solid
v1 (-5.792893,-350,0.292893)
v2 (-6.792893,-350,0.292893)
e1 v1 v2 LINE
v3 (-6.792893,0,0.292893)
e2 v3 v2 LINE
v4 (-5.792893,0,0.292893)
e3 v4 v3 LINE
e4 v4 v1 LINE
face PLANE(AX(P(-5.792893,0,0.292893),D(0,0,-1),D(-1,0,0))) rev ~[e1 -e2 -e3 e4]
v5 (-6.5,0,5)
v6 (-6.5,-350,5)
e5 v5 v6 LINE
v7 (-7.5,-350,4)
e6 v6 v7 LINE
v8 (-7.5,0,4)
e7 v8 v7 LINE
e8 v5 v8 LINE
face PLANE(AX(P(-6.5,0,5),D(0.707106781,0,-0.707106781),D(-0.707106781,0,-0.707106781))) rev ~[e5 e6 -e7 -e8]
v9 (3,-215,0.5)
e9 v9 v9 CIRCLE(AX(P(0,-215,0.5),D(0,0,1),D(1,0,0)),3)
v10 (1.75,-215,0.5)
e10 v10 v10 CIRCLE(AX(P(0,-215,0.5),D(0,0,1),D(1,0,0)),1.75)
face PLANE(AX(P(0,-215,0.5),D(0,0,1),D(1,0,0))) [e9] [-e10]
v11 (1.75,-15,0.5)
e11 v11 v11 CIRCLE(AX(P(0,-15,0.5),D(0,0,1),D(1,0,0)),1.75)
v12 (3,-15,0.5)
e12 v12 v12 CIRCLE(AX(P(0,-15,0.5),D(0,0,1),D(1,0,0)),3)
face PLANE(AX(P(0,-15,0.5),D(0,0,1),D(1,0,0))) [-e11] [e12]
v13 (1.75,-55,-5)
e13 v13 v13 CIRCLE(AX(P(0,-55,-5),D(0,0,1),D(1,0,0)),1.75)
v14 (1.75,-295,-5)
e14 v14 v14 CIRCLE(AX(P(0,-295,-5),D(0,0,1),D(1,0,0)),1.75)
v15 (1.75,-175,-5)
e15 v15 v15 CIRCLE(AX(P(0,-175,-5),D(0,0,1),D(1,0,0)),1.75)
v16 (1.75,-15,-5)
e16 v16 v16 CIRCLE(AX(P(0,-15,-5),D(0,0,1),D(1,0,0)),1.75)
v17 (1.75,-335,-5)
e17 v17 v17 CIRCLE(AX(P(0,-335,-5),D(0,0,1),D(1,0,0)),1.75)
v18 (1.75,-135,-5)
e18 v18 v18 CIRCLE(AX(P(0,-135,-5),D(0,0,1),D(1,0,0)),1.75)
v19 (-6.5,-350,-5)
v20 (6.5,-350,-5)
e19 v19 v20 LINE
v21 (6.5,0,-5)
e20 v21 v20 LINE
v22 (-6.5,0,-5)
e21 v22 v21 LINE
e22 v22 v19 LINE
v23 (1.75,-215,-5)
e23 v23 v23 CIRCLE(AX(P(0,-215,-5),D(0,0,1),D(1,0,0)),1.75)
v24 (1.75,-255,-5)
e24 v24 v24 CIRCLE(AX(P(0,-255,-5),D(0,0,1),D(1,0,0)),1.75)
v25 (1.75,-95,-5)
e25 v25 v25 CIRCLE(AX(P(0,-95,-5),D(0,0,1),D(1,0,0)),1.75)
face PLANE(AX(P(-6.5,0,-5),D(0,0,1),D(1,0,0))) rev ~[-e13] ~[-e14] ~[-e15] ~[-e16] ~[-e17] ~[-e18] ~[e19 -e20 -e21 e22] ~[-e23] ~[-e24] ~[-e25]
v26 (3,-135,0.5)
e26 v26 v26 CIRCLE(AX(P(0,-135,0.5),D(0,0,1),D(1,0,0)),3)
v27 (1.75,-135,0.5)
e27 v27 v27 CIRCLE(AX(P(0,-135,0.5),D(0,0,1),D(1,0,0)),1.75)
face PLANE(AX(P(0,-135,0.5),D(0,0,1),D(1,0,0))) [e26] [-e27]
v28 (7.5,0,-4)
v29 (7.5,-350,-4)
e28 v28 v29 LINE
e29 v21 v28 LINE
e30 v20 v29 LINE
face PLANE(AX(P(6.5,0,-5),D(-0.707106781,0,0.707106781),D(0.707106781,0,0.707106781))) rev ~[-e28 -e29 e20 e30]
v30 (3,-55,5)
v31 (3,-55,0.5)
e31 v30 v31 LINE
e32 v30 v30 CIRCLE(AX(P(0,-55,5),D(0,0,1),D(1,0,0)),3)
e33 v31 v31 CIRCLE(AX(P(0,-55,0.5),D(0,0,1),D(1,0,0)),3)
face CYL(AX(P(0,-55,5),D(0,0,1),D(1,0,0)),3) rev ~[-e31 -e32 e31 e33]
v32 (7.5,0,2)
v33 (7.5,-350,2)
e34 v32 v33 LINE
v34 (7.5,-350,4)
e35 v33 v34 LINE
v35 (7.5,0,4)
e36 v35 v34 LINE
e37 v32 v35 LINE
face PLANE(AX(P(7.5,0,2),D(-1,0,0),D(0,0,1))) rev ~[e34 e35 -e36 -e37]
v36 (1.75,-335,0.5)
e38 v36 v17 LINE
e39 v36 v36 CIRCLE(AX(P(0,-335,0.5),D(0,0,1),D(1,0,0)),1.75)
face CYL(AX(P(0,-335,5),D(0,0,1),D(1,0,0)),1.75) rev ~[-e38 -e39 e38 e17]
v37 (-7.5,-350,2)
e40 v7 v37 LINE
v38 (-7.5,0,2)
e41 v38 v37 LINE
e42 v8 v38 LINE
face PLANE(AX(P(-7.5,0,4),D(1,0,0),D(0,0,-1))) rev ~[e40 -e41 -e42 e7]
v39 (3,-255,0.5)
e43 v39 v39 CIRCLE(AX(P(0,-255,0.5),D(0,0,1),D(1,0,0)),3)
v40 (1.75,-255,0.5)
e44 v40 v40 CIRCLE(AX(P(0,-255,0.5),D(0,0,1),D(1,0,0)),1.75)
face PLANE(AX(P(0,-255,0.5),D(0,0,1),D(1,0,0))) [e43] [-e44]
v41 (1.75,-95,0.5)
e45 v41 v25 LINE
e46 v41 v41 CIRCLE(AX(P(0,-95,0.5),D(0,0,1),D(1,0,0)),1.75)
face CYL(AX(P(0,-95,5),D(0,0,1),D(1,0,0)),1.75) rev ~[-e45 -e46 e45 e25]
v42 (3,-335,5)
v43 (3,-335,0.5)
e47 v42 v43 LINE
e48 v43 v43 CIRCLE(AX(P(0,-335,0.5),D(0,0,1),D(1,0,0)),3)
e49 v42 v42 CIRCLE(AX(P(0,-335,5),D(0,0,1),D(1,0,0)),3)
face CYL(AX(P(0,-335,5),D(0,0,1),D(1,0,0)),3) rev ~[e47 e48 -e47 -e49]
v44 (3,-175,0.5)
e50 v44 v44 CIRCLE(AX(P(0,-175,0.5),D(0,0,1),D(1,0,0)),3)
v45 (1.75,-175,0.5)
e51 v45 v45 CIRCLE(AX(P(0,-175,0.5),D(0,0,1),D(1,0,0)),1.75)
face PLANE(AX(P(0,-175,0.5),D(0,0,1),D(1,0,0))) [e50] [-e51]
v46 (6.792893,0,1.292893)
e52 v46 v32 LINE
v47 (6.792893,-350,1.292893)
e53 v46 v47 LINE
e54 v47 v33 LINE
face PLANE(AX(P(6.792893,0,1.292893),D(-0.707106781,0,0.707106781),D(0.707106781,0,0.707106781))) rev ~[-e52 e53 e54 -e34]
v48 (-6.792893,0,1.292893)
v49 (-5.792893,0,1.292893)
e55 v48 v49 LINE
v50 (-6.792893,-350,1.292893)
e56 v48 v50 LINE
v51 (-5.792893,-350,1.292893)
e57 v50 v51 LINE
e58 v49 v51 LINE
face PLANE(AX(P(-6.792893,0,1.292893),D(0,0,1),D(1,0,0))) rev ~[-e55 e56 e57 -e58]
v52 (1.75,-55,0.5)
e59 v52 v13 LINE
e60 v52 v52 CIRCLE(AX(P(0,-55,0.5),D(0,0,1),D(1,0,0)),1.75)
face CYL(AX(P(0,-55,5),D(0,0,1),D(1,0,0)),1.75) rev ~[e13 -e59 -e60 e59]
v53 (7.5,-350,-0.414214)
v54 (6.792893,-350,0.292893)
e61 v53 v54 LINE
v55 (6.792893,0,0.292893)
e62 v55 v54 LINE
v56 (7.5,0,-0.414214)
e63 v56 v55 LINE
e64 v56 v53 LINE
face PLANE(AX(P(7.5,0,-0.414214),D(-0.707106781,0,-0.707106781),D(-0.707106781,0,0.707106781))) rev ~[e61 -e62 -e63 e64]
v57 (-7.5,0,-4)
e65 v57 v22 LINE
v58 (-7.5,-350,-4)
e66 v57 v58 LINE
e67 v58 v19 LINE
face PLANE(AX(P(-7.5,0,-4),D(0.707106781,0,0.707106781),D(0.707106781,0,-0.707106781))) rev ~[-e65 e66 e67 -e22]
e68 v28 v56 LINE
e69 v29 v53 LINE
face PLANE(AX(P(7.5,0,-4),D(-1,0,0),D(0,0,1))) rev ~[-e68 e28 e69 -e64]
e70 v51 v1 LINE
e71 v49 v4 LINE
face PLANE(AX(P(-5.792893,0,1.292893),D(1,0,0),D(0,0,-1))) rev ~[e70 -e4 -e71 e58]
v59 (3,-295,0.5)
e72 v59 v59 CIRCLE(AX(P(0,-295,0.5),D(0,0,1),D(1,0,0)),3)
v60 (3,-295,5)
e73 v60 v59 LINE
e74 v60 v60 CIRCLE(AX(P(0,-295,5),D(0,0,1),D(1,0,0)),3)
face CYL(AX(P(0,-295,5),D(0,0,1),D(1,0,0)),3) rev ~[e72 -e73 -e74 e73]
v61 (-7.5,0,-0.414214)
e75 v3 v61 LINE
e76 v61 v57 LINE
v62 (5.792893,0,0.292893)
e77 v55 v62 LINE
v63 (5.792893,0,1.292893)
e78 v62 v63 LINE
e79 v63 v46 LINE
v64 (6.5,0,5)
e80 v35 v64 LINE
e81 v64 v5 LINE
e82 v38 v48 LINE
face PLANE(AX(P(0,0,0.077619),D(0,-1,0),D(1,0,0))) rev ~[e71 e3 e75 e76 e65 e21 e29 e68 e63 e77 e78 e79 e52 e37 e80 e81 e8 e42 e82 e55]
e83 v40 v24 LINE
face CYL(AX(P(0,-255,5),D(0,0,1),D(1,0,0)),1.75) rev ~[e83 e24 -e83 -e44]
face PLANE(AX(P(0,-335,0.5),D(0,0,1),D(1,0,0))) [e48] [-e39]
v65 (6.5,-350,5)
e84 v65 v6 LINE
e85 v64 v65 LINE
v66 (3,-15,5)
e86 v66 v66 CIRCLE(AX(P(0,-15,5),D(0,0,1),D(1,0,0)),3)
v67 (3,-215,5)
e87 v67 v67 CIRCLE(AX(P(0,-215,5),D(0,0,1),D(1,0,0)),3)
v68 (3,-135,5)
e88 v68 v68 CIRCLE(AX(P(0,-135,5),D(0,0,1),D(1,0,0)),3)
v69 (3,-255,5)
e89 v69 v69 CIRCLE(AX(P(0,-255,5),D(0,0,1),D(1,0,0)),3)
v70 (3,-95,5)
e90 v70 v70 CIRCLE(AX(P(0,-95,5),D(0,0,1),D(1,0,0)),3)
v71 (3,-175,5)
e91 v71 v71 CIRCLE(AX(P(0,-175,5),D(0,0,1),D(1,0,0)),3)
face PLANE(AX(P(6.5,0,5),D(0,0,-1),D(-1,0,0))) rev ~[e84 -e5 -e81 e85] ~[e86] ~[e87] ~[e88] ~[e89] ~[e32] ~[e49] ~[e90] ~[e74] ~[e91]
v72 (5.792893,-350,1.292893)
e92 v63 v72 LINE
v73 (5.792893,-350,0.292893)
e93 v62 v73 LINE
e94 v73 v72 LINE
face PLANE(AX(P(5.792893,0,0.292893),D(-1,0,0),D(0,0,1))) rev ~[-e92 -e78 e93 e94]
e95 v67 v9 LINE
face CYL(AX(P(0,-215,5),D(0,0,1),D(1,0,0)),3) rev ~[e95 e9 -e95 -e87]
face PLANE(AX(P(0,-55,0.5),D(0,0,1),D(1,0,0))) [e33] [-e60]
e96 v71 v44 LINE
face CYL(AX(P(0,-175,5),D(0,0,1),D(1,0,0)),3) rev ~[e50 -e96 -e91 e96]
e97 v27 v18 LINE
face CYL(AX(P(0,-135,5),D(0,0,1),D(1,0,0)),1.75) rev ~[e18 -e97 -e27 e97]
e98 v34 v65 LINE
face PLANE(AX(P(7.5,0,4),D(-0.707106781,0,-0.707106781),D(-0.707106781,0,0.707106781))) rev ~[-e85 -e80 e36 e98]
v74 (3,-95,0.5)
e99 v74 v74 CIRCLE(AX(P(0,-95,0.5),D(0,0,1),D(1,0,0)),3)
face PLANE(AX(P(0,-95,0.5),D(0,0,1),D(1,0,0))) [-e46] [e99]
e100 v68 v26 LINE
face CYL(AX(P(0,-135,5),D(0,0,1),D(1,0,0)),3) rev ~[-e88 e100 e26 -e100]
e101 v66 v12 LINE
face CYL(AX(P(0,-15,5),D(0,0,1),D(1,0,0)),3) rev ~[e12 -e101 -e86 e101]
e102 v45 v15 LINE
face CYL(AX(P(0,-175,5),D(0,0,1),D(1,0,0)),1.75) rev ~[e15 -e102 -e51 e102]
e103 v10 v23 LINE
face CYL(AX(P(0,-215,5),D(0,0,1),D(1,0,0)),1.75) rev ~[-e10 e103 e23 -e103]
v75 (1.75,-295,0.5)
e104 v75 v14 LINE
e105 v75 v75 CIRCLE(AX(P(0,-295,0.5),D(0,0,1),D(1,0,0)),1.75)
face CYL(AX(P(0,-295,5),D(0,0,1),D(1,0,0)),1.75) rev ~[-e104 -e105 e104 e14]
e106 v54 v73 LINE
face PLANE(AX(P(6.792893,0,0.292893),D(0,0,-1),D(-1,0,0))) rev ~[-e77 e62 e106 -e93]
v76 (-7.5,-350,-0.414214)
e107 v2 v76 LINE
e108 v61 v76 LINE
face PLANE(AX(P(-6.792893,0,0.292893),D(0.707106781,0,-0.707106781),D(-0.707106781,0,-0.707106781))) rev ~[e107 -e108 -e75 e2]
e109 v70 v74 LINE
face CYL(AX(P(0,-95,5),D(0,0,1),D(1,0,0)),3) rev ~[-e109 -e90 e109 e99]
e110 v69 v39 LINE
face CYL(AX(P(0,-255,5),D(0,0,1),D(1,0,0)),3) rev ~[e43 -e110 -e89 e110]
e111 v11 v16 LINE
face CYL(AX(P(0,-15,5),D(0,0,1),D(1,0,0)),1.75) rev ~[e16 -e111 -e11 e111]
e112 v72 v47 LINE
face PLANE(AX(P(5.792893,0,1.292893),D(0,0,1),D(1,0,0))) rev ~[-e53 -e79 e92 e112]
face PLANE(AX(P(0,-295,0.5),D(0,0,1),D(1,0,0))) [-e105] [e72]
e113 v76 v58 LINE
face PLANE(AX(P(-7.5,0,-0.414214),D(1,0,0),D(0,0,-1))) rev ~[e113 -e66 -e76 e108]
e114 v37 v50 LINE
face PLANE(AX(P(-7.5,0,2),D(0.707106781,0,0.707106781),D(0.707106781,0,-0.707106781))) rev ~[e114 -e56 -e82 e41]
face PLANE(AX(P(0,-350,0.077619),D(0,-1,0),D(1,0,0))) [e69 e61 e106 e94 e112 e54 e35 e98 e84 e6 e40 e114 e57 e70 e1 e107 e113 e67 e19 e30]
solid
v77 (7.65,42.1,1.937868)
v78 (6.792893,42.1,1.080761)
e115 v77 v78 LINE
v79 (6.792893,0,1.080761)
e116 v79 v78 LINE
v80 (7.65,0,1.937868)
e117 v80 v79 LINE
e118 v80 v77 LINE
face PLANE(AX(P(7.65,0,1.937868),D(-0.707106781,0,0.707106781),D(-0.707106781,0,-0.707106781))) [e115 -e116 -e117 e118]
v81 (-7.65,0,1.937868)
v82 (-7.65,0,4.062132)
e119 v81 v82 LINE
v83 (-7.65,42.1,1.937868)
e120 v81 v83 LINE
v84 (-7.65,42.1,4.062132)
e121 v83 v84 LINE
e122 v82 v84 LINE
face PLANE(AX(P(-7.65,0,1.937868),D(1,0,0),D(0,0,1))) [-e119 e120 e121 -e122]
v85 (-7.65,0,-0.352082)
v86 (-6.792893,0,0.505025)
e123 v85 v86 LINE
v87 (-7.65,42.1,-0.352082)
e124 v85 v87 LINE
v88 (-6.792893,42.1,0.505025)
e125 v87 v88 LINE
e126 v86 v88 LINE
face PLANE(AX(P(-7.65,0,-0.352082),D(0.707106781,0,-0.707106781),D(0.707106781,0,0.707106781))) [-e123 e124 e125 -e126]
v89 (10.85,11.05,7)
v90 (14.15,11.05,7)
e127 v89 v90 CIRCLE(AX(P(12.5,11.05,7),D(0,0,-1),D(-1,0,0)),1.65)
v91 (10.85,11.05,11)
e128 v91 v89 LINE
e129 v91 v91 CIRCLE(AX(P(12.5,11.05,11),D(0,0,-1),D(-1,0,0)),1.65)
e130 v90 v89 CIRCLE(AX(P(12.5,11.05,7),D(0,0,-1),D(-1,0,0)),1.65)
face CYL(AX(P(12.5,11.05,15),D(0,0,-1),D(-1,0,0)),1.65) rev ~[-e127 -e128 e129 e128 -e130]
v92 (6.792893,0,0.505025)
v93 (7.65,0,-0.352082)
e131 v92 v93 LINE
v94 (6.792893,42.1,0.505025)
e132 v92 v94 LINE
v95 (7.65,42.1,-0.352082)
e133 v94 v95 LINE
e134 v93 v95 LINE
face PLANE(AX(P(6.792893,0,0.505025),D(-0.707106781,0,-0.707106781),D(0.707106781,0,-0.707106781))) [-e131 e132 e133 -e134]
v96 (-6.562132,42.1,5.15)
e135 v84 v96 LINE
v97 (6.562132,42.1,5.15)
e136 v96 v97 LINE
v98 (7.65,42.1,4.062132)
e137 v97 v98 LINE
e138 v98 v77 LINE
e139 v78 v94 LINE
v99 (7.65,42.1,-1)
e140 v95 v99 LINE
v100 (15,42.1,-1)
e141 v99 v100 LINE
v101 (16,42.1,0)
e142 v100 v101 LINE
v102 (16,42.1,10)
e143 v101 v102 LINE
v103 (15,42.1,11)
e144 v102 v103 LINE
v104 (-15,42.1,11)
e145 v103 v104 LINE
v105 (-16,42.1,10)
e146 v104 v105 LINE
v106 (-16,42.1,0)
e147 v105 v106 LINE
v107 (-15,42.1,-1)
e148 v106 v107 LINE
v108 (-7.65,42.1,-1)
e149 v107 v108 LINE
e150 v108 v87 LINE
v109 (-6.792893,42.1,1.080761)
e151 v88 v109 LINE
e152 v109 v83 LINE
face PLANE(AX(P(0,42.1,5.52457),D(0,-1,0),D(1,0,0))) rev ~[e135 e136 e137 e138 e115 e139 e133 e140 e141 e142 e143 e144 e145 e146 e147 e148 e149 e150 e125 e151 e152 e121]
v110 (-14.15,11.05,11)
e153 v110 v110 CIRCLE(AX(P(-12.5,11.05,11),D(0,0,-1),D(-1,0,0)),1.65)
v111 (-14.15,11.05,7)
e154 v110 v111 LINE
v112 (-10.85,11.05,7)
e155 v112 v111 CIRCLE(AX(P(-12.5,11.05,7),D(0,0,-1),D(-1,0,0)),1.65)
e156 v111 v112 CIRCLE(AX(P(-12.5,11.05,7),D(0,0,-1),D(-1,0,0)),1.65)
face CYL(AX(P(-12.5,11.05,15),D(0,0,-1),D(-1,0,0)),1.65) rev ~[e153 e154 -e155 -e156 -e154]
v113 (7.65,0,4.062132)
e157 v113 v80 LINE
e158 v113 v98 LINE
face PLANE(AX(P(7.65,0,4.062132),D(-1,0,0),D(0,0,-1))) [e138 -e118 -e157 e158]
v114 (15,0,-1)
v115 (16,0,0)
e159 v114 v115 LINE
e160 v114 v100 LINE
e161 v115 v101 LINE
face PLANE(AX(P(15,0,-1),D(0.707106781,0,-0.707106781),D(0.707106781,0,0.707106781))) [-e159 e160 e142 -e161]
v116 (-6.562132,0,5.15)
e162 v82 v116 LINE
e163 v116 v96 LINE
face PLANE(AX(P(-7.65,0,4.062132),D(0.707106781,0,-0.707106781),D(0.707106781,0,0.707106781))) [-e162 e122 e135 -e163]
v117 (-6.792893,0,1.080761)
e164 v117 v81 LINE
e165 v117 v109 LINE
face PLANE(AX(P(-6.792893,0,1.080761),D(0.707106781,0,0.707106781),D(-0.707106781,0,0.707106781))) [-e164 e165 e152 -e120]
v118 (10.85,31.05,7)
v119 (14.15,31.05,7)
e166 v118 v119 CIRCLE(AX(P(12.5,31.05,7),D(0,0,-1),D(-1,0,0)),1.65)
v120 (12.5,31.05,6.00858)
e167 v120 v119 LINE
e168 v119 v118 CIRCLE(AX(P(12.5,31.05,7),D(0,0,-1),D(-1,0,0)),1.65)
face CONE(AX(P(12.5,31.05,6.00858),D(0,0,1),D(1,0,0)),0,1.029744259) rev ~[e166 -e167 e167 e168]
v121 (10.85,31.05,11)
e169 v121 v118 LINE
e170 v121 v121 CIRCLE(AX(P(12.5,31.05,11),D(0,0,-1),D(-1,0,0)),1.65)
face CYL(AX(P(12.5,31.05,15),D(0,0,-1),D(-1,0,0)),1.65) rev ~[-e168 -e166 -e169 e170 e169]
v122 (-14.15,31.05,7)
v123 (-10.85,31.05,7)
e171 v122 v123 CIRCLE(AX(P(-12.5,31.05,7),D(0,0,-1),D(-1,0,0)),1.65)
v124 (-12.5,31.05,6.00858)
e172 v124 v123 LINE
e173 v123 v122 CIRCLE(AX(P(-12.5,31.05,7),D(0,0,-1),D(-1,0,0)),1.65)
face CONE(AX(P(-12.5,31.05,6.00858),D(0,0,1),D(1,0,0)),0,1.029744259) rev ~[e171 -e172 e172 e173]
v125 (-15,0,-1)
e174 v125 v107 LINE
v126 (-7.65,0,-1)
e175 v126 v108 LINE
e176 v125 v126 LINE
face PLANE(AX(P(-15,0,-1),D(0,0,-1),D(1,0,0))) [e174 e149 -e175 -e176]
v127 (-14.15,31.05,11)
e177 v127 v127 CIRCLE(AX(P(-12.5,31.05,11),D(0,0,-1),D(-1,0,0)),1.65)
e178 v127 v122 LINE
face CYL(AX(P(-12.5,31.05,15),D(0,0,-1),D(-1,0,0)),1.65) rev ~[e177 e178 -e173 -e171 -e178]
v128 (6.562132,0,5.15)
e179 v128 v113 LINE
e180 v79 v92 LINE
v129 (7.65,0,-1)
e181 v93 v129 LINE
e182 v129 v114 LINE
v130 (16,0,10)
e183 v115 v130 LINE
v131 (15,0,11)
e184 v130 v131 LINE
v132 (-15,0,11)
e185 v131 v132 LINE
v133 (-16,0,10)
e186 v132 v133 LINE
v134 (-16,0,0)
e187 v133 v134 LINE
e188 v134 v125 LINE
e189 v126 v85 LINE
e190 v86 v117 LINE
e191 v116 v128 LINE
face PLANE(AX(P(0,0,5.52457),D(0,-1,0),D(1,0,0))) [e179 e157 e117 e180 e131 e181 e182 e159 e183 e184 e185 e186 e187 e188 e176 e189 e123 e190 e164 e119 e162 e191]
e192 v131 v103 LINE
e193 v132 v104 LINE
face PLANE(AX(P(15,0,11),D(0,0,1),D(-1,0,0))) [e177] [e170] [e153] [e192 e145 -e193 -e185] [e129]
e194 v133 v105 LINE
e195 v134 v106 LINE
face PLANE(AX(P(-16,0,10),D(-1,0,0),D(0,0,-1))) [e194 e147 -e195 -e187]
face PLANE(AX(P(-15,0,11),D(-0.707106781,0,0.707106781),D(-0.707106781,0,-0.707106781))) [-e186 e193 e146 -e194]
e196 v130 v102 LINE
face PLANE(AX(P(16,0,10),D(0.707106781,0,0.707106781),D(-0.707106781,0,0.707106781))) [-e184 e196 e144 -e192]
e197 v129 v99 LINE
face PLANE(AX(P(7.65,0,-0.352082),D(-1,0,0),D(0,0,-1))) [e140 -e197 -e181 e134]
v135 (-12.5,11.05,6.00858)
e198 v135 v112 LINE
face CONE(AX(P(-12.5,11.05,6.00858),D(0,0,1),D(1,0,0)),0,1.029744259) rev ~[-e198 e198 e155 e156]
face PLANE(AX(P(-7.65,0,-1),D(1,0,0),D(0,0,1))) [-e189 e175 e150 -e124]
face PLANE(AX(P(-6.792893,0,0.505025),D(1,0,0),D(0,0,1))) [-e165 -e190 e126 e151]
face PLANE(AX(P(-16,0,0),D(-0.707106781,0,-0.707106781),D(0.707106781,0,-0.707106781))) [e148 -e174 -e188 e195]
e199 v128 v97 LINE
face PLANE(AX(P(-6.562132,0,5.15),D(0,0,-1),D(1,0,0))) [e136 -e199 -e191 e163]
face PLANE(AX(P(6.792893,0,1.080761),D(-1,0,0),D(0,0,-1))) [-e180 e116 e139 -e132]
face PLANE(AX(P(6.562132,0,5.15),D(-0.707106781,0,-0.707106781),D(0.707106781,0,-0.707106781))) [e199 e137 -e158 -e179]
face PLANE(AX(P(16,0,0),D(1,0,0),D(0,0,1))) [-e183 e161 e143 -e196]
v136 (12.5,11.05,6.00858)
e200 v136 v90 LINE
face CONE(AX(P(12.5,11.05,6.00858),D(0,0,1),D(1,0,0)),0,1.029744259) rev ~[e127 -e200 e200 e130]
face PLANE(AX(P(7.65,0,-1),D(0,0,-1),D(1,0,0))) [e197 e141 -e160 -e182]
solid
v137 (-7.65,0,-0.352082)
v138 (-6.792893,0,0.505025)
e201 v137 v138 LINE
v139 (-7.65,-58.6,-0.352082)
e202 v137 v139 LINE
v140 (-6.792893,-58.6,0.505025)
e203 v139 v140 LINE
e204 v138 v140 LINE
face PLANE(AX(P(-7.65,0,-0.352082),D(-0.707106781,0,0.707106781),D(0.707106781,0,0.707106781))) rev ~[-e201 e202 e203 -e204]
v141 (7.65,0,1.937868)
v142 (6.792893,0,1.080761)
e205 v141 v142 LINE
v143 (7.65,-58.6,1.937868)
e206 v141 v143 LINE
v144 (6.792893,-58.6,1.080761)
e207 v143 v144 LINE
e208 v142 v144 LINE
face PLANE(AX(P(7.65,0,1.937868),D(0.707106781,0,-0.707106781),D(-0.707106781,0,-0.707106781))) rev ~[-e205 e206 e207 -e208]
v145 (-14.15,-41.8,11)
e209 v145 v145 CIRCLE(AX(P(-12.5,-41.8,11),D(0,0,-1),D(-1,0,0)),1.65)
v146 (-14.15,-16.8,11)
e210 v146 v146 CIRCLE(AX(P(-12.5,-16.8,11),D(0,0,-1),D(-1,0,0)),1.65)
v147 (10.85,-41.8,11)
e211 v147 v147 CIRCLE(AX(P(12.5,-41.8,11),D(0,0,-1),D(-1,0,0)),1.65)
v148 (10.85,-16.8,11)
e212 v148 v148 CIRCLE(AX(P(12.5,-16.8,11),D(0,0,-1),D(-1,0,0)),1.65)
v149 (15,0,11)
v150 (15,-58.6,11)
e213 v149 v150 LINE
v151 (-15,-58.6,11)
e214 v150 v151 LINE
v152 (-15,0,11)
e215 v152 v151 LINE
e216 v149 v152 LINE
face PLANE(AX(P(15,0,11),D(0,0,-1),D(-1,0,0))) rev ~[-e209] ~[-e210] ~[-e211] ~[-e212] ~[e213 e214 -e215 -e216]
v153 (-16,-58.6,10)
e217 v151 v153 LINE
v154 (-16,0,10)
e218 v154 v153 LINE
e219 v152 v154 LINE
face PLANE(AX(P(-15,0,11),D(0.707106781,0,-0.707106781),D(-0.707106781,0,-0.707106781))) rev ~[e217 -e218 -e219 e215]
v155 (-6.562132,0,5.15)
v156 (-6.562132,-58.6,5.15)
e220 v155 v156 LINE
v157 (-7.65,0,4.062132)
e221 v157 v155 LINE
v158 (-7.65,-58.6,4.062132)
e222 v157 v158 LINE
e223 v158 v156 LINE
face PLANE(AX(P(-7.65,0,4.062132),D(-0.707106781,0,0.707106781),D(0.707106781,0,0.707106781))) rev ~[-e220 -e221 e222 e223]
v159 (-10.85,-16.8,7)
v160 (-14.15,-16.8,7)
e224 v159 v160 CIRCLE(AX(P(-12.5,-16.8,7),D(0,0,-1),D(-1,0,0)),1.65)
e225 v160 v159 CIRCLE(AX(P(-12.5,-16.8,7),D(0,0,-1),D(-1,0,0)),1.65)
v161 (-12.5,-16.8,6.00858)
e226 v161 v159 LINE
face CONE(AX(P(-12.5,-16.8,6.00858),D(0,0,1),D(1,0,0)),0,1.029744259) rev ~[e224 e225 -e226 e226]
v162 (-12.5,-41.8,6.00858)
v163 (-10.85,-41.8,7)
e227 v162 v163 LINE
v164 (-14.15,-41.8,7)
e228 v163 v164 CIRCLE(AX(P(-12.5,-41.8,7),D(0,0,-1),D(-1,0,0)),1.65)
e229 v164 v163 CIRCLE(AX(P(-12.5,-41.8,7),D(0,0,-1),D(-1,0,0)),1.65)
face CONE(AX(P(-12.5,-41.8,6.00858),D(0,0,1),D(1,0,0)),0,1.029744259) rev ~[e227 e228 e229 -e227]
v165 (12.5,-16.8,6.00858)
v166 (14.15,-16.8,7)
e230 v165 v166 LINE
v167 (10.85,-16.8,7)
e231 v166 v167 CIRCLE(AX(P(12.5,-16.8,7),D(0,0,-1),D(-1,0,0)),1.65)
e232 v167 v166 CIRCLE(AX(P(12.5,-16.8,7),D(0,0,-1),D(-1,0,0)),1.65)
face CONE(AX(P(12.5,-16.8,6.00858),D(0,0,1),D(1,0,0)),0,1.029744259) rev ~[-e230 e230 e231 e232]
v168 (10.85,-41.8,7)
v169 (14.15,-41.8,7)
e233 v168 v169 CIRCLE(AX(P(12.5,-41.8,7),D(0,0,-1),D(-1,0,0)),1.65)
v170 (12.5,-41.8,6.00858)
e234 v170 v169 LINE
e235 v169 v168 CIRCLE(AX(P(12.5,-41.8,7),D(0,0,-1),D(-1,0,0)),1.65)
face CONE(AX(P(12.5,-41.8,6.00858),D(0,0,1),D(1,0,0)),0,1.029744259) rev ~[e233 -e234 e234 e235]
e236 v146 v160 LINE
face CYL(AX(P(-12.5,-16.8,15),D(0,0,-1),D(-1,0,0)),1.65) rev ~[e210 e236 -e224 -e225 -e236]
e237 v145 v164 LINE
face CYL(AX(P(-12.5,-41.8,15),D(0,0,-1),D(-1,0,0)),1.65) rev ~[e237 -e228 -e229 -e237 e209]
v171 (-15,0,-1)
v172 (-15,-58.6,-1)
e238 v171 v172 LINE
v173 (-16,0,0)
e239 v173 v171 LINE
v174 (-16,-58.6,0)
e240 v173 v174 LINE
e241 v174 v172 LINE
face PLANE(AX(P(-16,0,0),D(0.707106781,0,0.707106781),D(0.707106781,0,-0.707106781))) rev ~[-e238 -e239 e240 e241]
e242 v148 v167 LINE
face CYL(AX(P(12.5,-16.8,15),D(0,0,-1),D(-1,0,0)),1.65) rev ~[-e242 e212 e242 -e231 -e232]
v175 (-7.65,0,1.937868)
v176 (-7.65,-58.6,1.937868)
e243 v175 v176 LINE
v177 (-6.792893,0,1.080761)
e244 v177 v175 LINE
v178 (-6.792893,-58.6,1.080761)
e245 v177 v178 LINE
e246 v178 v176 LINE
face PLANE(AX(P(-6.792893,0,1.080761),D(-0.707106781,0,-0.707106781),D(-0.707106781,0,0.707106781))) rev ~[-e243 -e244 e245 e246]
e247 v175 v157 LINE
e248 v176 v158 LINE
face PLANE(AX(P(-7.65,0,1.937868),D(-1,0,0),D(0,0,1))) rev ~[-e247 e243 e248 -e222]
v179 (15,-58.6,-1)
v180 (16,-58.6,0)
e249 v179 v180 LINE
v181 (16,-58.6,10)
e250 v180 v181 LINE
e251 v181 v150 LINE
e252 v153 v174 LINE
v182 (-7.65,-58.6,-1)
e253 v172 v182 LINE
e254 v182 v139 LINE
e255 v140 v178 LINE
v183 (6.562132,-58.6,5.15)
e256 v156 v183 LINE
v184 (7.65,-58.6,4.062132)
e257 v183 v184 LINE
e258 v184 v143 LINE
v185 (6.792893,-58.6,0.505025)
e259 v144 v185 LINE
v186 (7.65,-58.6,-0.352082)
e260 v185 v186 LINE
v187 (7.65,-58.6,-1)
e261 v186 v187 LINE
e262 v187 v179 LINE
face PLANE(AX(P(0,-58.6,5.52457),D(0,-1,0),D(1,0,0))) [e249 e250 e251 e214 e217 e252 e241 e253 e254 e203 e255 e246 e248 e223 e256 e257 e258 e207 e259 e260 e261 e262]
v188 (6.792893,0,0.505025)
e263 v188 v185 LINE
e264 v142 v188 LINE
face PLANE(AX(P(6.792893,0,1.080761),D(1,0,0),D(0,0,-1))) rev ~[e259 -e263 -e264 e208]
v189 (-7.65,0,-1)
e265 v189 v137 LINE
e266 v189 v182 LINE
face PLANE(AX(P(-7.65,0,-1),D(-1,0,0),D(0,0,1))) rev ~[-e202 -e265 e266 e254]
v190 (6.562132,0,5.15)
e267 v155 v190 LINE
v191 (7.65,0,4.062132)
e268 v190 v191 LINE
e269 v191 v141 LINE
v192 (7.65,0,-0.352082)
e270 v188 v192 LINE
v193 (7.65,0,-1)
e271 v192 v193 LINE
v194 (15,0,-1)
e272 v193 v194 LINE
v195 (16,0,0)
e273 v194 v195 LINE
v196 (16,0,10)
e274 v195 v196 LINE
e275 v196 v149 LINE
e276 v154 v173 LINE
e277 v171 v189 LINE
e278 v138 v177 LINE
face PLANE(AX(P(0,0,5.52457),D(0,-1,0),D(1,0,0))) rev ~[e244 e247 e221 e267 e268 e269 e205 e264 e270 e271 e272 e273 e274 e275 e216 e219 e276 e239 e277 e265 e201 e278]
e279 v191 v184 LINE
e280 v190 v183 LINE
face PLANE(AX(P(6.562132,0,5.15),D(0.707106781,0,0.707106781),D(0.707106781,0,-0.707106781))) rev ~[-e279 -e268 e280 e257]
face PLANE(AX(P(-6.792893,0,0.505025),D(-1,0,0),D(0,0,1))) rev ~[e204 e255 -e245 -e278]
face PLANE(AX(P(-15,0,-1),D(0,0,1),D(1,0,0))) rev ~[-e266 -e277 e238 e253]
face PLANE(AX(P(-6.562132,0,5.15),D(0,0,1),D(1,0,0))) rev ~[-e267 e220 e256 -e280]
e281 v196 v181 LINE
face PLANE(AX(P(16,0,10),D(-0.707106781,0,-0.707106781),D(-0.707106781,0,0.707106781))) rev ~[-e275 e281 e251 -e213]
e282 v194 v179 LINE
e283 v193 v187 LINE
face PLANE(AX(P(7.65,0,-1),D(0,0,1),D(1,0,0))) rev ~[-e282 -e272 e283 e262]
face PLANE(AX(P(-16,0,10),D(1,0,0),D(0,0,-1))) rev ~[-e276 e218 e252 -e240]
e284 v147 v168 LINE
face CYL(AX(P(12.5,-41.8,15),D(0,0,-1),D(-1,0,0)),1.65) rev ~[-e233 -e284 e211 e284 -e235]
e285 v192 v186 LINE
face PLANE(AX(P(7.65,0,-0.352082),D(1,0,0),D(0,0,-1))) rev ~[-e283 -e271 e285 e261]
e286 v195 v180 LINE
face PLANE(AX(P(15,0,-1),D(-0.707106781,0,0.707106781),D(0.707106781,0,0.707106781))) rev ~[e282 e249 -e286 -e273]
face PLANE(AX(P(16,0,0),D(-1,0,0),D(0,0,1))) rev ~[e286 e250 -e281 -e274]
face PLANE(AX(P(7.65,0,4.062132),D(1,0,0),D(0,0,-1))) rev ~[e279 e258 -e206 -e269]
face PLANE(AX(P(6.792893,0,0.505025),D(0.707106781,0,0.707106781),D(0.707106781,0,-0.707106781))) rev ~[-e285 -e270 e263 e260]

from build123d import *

# Parameters (mm, degrees)
F1_DEPTH  = 350
F2_R      = 1.75
F3_DEPTH  = 10.001
F4_R      = 3
F5_DEPTH  = 4.5
F7_DEPTH  = 58.6
F8_DEPTH  = 42.1
F11_D     = 3.3
F11_DEPTH = 4
F11_TIP   = 0.9914200214
F12_D     = 3.3
F12_DEPTH = 4
F12_TIP   = 0.9914200214


with BuildPart() as f1:
    # F0 (on Front) → F1 (new body)
    with BuildSketch(Plane.XZ):
        Polygon((-6.5, -5), (6.5, -5), (7.5, -4), (7.5, -0.4142135624), (6.7928932188, 0.2928932188), (5.7928932188, 0.2928932188), (5.7928932188, 1.2928932188), (6.7928932188, 1.2928932188), (7.5, 2), (7.5, 4), (6.5, 5), (-6.5, 5), (-7.5, 4), (-7.5, 2), (-6.7928932188, 1.2928932188), (-5.7928932188, 1.2928932188), (-5.7928932188, 0.2928932188), (-6.7928932188, 0.2928932188), (-7.5, -0.4142135624), (-7.5, -4), align=None)
    extrude(amount=F1_DEPTH)

    # F2 (on face) → F3 (cut, through all)
    with BuildSketch(Plane.XY.offset(5)):
        with Locations((0, -15)):
            Circle(F2_R)
        with Locations((0, -55)):
            Circle(F2_R)
        with Locations((0, -95)):
            Circle(F2_R)
        with Locations((0, -135)):
            Circle(F2_R)
        with Locations((0, -175)):
            Circle(F2_R)
        with Locations((0, -215)):
            Circle(F2_R)
        with Locations((0, -255)):
            Circle(F2_R)
        with Locations((0, -295)):
            Circle(F2_R)
        with Locations((0, -335)):
            Circle(F2_R)
    extrude(amount=-F3_DEPTH, mode=Mode.SUBTRACT)

    # F4 (on face) → F5 (cut)
    with BuildSketch(Plane.XY.offset(5)):
        with Locations((0, -15)):
            Circle(F4_R)
        with Locations((0, -55)):
            Circle(F4_R)
        with Locations((0, -95)):
            Circle(F4_R)
        with Locations((0, -135)):
            Circle(F4_R)
        with Locations((0, -175)):
            Circle(F4_R)
        with Locations((0, -215)):
            Circle(F4_R)
        with Locations((0, -255)):
            Circle(F4_R)
        with Locations((0, -295)):
            Circle(F4_R)
        with Locations((0, -335)):
            Circle(F4_R)
    extrude(amount=-F5_DEPTH, mode=Mode.SUBTRACT)


with BuildPart() as f7:
    # F6 (on Front) → F7 (new body)
    with BuildSketch(Plane.XZ):
        Polygon((-15, -1), (-7.65, -1), (-7.65, -0.352081528), (-6.7928932188, 0.5050252532), (-6.7928932188, 1.0807611845), (-7.65, 1.9378679656), (-7.65, 4.0621320344), (-6.5621320344, 5.15), (0, 5.15), (6.5621320344, 5.15), (7.65, 4.0621320344), (7.65, 1.9378679656), (6.7928932188, 1.0807611845), (6.7928932188, 0.5050252532), (7.65, -0.352081528), (7.65, -1), (15, -1), (16, 0), (16, 10), (15, 11), (0, 11), (-15, 11), (-16, 10), (-16, 0), align=None)
    extrude(amount=F7_DEPTH)

    # F11
    with Locations(Plane.XY.offset(11)):
        with Locations((-12.5, -16.8), (12.5, -16.8), (-12.5, -41.8), (12.5, -41.8)):
            Hole(F11_D / 2, depth=F11_DEPTH)
            with Locations((0, 0, -(F11_DEPTH + F11_TIP / 2))):  # 118° drill point
                Cone(0, F11_D / 2, F11_TIP, mode=Mode.SUBTRACT)


with BuildPart() as f8:
    # F6 (on Front) → F8 (new body)
    with BuildSketch(Plane.XZ):
        Polygon((-15, -1), (-7.65, -1), (-7.65, -0.352081528), (-6.7928932188, 0.5050252532), (-6.7928932188, 1.0807611845), (-7.65, 1.9378679656), (-7.65, 4.0621320344), (-6.5621320344, 5.15), (0, 5.15), (6.5621320344, 5.15), (7.65, 4.0621320344), (7.65, 1.9378679656), (6.7928932188, 1.0807611845), (6.7928932188, 0.5050252532), (7.65, -0.352081528), (7.65, -1), (15, -1), (16, 0), (16, 10), (15, 11), (0, 11), (-15, 11), (-16, 10), (-16, 0), align=None)
    extrude(amount=-F8_DEPTH)

    # F12
    with Locations(Plane.XY.offset(11)):
        with Locations((-12.5, 31.05), (12.5, 31.05), (12.5, 11.05), (-12.5, 11.05)):
            Hole(F12_D / 2, depth=F12_DEPTH)
            with Locations((0, 0, -(F12_DEPTH + F12_TIP / 2))):  # 118° drill point
                Cone(0, F12_D / 2, F12_TIP, mode=Mode.SUBTRACT)


solid = Compound([f1.part, f7.part, f8.part])
